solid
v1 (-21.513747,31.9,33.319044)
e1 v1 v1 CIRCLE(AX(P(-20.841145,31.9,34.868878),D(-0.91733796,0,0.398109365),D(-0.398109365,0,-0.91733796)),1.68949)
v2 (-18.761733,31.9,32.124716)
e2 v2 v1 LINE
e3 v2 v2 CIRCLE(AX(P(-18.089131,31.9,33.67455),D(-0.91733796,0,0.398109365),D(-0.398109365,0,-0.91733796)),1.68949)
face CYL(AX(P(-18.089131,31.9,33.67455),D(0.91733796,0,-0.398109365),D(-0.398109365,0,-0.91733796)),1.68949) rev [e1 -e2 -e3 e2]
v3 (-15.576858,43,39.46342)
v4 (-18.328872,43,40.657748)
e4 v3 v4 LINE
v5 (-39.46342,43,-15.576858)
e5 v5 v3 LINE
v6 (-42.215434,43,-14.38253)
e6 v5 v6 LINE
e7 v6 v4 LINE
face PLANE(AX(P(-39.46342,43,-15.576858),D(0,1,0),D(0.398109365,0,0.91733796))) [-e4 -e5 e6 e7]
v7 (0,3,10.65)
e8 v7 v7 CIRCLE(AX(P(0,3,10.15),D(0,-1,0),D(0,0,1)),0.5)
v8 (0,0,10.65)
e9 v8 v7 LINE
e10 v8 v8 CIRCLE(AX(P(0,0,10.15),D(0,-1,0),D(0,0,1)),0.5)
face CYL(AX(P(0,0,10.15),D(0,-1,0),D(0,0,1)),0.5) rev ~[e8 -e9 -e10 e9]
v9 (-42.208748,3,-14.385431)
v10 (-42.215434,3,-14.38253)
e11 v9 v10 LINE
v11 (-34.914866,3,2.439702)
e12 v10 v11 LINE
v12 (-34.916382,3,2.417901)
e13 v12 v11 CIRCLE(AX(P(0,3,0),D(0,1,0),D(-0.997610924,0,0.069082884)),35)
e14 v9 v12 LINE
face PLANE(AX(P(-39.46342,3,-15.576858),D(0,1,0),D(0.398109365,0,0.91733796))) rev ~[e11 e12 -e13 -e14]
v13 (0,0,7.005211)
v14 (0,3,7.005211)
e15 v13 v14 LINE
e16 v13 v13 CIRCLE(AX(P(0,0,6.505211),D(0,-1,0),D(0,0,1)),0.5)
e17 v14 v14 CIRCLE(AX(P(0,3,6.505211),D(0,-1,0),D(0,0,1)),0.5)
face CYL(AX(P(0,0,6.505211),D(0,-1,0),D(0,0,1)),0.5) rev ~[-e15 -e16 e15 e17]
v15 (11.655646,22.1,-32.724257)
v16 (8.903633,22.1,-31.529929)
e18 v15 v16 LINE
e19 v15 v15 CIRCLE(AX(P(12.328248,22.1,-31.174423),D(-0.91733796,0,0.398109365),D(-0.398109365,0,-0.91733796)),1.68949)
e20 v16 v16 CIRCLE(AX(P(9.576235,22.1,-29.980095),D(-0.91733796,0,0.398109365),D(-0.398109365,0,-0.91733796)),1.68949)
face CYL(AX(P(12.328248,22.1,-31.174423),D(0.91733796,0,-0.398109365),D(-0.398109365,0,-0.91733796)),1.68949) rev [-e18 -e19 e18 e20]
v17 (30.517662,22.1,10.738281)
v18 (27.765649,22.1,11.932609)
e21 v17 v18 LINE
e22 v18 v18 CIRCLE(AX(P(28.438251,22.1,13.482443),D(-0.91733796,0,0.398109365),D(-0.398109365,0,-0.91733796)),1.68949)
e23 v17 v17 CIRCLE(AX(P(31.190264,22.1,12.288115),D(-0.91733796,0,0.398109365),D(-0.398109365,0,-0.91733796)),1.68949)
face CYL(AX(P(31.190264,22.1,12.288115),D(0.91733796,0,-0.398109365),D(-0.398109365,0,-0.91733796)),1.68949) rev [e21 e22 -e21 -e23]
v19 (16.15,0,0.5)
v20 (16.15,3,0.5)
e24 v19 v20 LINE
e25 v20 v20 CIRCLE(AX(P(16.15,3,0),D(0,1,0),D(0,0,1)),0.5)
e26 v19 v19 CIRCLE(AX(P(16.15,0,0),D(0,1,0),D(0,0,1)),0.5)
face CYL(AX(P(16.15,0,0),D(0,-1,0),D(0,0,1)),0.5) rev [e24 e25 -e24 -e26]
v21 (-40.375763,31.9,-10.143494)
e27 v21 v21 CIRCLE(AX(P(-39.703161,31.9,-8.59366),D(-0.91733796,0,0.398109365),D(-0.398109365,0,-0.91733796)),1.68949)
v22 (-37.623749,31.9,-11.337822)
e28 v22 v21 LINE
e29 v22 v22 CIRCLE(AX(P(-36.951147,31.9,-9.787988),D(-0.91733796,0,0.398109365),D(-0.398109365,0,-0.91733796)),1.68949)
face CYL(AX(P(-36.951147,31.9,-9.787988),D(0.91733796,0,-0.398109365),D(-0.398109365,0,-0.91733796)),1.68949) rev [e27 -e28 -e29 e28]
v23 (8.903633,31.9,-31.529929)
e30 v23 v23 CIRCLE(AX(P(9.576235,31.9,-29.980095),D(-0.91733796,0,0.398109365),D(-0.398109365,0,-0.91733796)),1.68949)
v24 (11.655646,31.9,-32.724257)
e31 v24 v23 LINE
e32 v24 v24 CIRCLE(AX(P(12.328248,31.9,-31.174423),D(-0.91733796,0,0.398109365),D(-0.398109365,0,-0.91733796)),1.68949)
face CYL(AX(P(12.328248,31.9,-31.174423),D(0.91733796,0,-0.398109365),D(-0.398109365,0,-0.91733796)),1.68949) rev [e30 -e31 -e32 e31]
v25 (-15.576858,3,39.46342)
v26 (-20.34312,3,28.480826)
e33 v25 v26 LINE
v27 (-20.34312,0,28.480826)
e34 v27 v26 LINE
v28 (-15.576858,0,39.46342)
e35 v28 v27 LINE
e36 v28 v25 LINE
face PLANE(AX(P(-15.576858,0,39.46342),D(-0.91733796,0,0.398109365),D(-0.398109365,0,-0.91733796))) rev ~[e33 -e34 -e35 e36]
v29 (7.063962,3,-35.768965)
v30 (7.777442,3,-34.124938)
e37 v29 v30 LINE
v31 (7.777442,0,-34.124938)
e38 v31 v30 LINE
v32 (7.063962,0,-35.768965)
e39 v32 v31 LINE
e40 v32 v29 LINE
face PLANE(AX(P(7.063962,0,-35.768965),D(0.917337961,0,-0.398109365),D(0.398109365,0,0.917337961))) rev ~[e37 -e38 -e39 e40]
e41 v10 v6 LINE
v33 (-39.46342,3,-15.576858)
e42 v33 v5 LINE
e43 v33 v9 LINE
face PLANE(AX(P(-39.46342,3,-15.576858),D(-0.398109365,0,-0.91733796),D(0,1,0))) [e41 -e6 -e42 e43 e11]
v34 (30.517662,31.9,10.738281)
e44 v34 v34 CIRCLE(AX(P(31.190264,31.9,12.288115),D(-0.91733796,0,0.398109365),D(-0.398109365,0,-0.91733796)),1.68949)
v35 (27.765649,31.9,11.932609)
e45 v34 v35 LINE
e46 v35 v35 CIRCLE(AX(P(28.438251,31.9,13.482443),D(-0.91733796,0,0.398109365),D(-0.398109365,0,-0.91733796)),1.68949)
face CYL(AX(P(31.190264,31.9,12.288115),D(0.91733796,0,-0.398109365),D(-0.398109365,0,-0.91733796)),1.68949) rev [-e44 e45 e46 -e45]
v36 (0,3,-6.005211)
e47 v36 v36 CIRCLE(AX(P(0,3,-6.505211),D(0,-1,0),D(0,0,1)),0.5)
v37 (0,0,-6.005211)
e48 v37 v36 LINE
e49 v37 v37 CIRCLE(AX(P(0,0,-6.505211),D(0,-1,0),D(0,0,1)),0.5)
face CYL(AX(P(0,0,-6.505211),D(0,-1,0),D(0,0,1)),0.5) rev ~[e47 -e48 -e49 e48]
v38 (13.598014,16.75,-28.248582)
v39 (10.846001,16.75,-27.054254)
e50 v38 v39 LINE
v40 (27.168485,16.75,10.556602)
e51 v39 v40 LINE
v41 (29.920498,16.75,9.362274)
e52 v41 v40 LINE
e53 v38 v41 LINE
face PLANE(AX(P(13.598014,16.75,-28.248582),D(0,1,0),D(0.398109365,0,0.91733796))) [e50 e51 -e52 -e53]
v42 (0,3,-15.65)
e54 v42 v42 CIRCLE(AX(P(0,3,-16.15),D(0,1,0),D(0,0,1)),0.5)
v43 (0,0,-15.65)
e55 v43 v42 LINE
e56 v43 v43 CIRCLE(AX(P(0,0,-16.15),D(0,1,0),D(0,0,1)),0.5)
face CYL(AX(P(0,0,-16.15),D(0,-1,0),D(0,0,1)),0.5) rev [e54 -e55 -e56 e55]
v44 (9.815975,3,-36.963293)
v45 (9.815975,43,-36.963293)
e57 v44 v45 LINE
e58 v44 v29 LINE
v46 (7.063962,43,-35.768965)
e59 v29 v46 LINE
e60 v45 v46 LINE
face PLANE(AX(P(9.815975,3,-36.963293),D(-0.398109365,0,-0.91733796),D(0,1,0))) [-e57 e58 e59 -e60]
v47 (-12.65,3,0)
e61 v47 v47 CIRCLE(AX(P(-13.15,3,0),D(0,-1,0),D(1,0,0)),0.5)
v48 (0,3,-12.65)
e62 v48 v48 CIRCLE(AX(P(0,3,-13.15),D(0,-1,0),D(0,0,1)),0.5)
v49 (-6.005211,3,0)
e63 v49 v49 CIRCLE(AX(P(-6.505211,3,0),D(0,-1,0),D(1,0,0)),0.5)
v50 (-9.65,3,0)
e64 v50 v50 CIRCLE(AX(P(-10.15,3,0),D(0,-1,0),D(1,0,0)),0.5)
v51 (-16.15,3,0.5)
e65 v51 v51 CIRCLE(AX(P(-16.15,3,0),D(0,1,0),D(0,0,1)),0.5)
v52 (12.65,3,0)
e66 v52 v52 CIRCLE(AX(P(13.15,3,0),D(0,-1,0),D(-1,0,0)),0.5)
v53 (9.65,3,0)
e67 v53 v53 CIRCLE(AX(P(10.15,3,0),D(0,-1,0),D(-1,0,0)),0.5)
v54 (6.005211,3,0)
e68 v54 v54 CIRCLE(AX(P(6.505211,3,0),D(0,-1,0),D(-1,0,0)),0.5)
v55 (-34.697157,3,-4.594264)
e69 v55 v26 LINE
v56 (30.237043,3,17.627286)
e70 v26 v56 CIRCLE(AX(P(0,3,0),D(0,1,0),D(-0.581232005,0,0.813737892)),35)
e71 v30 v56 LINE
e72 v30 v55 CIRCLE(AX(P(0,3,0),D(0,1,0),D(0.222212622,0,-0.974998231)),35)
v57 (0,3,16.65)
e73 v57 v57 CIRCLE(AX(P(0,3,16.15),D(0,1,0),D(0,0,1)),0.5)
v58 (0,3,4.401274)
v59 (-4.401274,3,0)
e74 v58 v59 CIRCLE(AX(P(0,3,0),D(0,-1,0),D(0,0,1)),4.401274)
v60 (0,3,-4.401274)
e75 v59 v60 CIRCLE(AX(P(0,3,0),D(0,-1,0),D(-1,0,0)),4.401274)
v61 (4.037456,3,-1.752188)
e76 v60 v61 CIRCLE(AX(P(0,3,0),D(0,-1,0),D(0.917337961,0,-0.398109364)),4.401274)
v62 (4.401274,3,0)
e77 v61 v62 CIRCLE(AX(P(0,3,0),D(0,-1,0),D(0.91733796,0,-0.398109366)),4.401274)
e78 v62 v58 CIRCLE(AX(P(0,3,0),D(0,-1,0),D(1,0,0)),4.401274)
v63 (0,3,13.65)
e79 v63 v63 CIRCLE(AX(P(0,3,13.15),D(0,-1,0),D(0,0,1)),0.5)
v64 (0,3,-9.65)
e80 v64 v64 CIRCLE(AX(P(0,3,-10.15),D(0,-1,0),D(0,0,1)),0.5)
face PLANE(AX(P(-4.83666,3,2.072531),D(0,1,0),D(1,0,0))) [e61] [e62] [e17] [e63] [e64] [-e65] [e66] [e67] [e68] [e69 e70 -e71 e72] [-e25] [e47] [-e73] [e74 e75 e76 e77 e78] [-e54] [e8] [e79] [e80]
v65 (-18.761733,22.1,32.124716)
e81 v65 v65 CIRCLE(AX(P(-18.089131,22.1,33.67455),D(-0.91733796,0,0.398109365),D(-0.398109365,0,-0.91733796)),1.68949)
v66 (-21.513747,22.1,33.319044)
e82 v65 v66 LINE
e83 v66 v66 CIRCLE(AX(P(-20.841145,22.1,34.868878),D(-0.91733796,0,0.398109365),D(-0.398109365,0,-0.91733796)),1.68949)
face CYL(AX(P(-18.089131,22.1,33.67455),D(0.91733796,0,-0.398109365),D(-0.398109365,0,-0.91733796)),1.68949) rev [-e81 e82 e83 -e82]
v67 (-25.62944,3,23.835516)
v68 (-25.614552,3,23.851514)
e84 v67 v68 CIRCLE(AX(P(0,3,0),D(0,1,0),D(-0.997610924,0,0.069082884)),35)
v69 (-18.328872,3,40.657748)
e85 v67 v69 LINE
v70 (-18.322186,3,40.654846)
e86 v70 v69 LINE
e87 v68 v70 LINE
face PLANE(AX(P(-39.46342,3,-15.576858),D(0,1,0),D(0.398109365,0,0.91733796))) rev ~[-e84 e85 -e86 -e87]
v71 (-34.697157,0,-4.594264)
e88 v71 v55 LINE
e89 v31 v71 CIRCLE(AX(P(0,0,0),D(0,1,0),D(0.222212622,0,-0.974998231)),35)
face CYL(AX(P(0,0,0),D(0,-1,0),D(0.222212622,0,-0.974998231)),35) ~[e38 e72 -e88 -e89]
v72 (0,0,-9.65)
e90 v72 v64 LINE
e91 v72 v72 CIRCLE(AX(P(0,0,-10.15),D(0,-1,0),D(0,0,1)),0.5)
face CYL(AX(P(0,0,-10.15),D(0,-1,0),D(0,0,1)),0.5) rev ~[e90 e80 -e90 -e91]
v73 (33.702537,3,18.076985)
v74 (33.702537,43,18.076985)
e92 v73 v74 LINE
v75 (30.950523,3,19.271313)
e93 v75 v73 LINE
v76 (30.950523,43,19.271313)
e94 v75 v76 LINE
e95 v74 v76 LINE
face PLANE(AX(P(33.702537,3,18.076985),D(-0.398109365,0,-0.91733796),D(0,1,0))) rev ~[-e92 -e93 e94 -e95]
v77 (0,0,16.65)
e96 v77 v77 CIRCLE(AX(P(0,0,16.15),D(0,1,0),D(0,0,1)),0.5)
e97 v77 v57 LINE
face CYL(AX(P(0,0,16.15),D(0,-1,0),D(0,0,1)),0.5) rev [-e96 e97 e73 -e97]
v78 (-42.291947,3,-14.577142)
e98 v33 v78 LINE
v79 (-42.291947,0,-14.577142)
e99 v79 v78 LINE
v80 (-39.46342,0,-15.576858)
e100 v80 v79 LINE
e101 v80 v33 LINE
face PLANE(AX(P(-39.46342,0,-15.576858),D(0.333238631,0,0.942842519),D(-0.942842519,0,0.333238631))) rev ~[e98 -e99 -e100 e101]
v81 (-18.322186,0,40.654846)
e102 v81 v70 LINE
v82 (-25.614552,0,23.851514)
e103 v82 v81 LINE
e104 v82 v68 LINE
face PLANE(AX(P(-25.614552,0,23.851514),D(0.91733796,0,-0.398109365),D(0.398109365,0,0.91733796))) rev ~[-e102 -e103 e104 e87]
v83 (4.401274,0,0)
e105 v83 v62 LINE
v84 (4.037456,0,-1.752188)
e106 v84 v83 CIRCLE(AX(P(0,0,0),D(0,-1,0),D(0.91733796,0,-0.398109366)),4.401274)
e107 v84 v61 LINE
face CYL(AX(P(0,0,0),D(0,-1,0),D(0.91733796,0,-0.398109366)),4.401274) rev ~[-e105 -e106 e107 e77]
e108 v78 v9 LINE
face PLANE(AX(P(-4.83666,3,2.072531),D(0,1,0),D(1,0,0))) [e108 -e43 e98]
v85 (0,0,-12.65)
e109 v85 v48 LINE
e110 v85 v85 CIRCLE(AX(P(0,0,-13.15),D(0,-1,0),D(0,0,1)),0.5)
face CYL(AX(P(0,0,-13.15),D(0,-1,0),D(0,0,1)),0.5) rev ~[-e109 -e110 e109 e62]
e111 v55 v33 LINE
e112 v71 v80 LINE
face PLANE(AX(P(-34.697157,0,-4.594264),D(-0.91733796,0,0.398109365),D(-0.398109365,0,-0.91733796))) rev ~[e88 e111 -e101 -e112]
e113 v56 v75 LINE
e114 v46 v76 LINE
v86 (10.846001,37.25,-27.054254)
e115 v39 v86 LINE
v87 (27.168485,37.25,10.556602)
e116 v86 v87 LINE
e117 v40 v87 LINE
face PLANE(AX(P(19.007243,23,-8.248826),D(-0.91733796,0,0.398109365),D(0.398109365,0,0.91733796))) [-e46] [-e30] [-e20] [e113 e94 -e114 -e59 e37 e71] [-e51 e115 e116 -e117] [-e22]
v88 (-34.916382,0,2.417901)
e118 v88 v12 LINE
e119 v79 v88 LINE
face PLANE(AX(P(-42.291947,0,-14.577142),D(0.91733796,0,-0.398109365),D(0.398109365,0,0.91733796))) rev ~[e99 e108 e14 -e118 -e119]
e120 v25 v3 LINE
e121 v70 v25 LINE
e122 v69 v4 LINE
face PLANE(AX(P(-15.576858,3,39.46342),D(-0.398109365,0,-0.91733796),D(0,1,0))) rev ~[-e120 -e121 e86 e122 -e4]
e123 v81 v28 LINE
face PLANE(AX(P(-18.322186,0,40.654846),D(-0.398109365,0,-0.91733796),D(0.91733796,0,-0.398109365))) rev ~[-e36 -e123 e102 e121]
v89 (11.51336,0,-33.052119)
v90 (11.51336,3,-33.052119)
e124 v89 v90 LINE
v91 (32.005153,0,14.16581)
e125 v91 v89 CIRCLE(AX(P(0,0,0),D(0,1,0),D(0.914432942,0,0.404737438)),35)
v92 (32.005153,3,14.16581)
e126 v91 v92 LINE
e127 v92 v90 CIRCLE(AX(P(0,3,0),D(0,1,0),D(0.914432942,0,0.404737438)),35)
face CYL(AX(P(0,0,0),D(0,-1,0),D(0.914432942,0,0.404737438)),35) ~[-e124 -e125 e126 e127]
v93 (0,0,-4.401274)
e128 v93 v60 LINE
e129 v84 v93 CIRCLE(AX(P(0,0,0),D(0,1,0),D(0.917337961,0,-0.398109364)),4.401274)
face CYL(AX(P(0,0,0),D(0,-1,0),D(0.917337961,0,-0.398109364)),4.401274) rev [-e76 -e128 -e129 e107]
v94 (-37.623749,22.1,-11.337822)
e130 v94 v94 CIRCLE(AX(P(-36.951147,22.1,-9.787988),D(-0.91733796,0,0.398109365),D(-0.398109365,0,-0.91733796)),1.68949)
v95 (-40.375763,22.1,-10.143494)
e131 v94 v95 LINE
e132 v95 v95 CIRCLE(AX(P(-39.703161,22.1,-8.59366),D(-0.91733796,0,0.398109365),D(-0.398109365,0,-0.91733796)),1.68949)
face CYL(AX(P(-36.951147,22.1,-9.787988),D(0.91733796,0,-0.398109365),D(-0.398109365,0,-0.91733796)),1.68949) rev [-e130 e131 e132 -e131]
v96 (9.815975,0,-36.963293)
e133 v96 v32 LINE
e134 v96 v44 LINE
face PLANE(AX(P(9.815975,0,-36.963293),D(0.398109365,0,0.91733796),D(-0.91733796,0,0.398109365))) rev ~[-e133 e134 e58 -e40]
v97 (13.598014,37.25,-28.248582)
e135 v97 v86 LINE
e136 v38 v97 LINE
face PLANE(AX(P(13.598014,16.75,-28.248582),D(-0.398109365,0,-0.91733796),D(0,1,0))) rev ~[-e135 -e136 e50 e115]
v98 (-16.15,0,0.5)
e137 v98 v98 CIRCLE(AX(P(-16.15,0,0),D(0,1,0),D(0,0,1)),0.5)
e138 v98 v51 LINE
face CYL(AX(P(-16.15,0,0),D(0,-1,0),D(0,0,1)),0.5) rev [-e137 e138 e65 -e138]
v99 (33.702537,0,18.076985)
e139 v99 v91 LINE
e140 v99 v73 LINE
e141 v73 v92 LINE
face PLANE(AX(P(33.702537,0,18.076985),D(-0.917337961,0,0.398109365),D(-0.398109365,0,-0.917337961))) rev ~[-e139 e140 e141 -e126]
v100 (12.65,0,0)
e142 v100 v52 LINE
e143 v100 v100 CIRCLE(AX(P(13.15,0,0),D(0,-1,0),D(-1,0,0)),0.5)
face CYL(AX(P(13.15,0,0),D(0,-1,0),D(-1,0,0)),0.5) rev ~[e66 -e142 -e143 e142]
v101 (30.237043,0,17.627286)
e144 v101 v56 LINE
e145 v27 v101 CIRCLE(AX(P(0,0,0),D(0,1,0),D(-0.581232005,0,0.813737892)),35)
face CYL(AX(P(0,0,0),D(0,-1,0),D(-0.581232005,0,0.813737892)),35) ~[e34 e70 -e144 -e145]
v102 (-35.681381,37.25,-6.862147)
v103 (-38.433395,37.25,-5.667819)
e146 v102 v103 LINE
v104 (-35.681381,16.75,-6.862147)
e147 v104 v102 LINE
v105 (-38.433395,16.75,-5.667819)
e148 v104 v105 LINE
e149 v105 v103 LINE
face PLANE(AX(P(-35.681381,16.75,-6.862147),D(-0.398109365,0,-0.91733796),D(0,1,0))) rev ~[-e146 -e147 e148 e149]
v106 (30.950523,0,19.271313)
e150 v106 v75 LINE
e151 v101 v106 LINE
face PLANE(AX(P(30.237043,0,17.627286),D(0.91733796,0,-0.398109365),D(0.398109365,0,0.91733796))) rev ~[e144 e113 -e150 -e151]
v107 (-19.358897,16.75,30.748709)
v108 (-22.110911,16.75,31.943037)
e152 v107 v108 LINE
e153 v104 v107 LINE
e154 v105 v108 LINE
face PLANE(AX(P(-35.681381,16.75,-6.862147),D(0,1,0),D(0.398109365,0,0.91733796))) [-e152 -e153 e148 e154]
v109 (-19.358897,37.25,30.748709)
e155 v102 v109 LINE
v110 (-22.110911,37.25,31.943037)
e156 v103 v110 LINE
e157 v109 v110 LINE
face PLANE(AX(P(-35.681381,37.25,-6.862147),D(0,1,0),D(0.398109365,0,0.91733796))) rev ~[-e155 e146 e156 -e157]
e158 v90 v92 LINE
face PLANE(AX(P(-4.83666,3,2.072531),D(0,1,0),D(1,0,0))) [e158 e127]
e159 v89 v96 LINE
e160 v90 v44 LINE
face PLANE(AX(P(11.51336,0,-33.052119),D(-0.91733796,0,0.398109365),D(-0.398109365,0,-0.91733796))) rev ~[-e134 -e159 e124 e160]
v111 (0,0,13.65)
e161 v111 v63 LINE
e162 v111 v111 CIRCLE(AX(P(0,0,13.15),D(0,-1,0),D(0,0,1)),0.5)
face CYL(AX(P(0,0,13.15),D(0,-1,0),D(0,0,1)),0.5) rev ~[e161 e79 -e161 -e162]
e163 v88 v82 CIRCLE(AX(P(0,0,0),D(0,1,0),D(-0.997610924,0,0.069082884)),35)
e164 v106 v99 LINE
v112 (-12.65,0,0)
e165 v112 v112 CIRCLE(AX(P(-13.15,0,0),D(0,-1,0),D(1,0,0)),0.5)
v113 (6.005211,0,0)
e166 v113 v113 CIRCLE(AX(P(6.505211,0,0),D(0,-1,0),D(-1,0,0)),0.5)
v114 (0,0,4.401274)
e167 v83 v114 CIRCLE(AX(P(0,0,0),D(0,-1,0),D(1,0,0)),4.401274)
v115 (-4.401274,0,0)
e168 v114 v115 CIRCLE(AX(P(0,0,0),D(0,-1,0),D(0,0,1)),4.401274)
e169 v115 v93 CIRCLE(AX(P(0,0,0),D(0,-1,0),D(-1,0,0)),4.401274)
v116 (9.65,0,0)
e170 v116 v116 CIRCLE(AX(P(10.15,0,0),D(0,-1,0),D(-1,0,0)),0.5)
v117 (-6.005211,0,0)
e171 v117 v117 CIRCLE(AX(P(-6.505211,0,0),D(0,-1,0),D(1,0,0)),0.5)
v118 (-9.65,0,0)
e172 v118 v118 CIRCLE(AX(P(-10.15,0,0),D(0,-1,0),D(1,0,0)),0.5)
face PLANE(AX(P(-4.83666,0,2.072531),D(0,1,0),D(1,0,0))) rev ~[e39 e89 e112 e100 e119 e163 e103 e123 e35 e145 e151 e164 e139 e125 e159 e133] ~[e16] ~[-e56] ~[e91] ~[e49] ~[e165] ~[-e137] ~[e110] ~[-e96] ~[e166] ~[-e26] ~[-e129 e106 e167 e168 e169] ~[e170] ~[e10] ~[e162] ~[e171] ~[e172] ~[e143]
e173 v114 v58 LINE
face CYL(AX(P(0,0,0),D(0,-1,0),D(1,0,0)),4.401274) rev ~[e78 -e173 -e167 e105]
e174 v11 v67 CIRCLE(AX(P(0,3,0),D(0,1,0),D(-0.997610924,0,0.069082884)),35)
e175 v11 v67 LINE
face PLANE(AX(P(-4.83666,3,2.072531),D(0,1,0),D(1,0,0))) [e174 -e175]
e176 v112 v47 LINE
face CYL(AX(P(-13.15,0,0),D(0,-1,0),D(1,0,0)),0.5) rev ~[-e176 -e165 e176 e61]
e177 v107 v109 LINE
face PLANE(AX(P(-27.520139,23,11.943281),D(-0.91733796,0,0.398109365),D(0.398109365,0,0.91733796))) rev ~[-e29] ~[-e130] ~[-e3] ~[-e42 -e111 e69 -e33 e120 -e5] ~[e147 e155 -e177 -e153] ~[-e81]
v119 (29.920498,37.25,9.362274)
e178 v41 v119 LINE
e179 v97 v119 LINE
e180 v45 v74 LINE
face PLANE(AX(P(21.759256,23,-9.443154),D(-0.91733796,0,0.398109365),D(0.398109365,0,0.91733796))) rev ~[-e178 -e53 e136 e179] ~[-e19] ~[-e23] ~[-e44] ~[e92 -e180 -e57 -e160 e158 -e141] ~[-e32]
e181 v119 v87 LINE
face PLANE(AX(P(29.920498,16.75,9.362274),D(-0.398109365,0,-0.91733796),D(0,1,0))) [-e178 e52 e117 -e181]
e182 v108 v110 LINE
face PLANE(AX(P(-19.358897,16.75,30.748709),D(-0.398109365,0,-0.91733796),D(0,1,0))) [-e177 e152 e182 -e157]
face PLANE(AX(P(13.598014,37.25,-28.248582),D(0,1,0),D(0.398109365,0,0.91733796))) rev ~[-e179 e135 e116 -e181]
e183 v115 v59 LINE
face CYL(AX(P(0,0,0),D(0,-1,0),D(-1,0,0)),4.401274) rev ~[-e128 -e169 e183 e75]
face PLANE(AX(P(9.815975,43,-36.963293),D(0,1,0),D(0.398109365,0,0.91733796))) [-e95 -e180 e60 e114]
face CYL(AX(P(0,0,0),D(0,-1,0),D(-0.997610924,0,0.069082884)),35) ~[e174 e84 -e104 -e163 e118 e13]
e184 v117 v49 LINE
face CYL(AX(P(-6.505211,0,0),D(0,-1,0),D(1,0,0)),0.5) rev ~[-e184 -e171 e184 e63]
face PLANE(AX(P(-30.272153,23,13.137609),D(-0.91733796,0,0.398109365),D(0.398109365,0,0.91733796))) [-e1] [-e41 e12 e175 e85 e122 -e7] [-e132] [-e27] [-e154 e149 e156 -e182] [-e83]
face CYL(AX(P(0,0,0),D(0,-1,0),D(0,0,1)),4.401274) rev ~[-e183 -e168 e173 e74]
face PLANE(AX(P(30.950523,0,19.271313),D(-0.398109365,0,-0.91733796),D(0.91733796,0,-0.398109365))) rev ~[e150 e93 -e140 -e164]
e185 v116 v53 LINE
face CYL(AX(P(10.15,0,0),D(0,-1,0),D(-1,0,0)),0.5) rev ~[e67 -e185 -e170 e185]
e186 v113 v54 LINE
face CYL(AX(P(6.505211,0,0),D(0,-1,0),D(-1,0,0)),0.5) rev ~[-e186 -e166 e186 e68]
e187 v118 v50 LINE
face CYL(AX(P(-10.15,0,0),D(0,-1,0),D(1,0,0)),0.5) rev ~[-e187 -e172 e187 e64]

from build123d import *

# Parameters (mm, degrees)
SKETCH1_R           = 0.5
BOSS_EXTRUDE1_DEPTH = 3
BOSS_EXTRUDE2_START = 30
SKETCH2_W           = 60
SKETCH2_H           = 40
SKETCH2_R           = 1.689490446
SKETCH2_W_2         = 41
SKETCH2_H_2         = 20.5
BOSS_EXTRUDE2_DEPTH = 3
BOSS_EXTRUDE3_START = -23.72
SKETCH2_2_W         = 60
SKETCH2_2_H         = 40
SKETCH2_2_R         = 1.689490446
SKETCH2_2_W_2       = 41
SKETCH2_2_H_2       = 20.5
BOSS_EXTRUDE3_DEPTH = 3
CUT_EXTRUDE1_DEPTH  = 10


with BuildPart() as part:
    # Sketch1 → Boss-Extrude1 (new body)
    with BuildSketch(Plane(origin=(0, 0, 0), x_dir=(1, 0, 0), z_dir=(0, 1, 0))):
        with BuildLine():
            ThreePointArc((7.77744177, 34.124938088), (-19.979563219, 28.73703279), (-34.697157454, 4.594264319))
            Line((-34.697157454, 4.594264319), (-39.463419759, 15.576857865))
            Line((-39.463419759, 15.576857865), (-42.291947314, 14.577141972))
            Line((-42.291947314, 14.577141972), (-34.916382331, -2.417900937))
            ThreePointArc((-34.916382331, -2.417900937), (-32.106828614, -13.933827771), (-25.614551861, -23.85151427))
            Line((-25.614551861, -23.85151427), (-18.322186149, -40.654846416))
            Line((-18.322186149, -40.654846416), (-15.576857865, -39.463419759))
            Line((-15.576857865, -39.463419759), (-20.34312017, -28.480826213))
            ThreePointArc((-20.34312017, -28.480826213), (7.343177958, -34.221013098), (30.237043308, -17.627286007))
            Line((30.237043308, -17.627286007), (30.950523486, -19.271312771))
            Line((30.950523486, -19.271312771), (33.702537367, -18.076984677))
            Line((33.702537367, -18.076984677), (32.005152982, -14.165810341))
            ThreePointArc((32.005152982, -14.165810341), (32.106828614, 13.933827771), (11.51335986, 33.052118612))
            Line((11.51335986, 33.052118612), (9.815975474, 36.963292947))
            Line((9.815975474, 36.963292947), (7.063961593, 35.768964852))
            Line((7.063961593, 35.768964852), (7.77744177, 34.124938088))
        make_face()
        with Locations(Location((0, -16.15, 0), (0, 0, 270))):
            Circle(SKETCH1_R, mode=Mode.SUBTRACT)
        with BuildLine():
            ThreePointArc((0, -12.65), (0.5, -13.15), (0, -13.65))
            ThreePointArc((0, -13.65), (-0.5, -13.15), (0, -12.65))
        make_face(mode=Mode.SUBTRACT)
        with BuildLine():
            ThreePointArc((0, -9.65), (0.5, -10.15), (0, -10.65))
            ThreePointArc((0, -10.65), (-0.5, -10.15), (0, -9.65))
        make_face(mode=Mode.SUBTRACT)
        with BuildLine():
            ThreePointArc((0, -6.005210608), (0.5, -6.505210608), (0, -7.005210608))
            ThreePointArc((0, -7.005210608), (-0.5, -6.505210608), (0, -6.005210608))
        make_face(mode=Mode.SUBTRACT)
        with Locations(Location((-16.15, 0, 0), (0, 0, 270))):
            Circle(SKETCH1_R, mode=Mode.SUBTRACT)
        with BuildLine():
            ThreePointArc((-13.65, 0), (-13.15, 0.5), (-12.65, 0))
            ThreePointArc((-12.65, 0), (-13.15, -0.5), (-13.65, 0))
        make_face(mode=Mode.SUBTRACT)
        with BuildLine():
            ThreePointArc((-10.65, 0), (-10.15, 0.5), (-9.65, 0))
            ThreePointArc((-9.65, 0), (-10.15, -0.5), (-10.65, 0))
        make_face(mode=Mode.SUBTRACT)
        with BuildLine():
            ThreePointArc((-7.005210608, 0), (-6.505210608, 0.5), (-6.005210608, 0))
            ThreePointArc((-6.005210608, 0), (-6.505210608, -0.5), (-7.005210608, 0))
        make_face(mode=Mode.SUBTRACT)
        with BuildLine():
            ThreePointArc((4.401273885, 0), (3.11217061, -3.11217061), (0, -4.401273885))
            ThreePointArc((0, -4.401273885), (-3.11217061, -3.11217061), (-4.401273885, 0))
            ThreePointArc((-4.401273885, 0), (-3.11217061, 3.11217061), (0, 4.401273885))
            Line((0, 4.401273885), (0, 0))
            Line((0, 0), (4.037455609, 1.752188351))
            ThreePointArc((4.037455609, 1.752188351), (4.309359567, 0.894780386), (4.401273885, 0))
        make_face(mode=Mode.SUBTRACT)
        with BuildLine():
            ThreePointArc((7.005210608, 0), (6.505210608, -0.5), (6.005210608, 0))
            ThreePointArc((6.005210608, 0), (6.505210608, 0.5), (7.005210608, 0))
        make_face(mode=Mode.SUBTRACT)
        with BuildLine():
            ThreePointArc((0, 7.005210608), (0.5, 6.505210608), (0, 6.005210608))
            ThreePointArc((0, 6.005210608), (-0.5, 6.505210608), (0, 7.005210608))
        make_face(mode=Mode.SUBTRACT)
        with BuildLine():
            ThreePointArc((10.65, 0), (10.15, -0.5), (9.65, 0))
            ThreePointArc((9.65, 0), (10.15, 0.5), (10.65, 0))
        make_face(mode=Mode.SUBTRACT)
        with BuildLine():
            ThreePointArc((13.65, 0), (13.15, -0.5), (12.65, 0))
            ThreePointArc((12.65, 0), (13.15, 0.5), (13.65, 0))
        make_face(mode=Mode.SUBTRACT)
        with Locations(Location((16.15, 0, 0), (0, 0, 270))):
            Circle(SKETCH1_R, mode=Mode.SUBTRACT)
        with BuildLine():
            ThreePointArc((0, 10.65), (0.5, 10.15), (0, 9.65))
            ThreePointArc((0, 9.65), (-0.5, 10.15), (0, 10.65))
        make_face(mode=Mode.SUBTRACT)
        with BuildLine():
            ThreePointArc((0, 13.65), (0.5, 13.15), (0, 12.65))
            ThreePointArc((0, 12.65), (-0.5, 13.15), (0, 13.65))
        make_face(mode=Mode.SUBTRACT)
        with Locations(Location((0, 16.15, 0), (0, 0, 270))):
            Circle(SKETCH1_R, mode=Mode.SUBTRACT)
    extrude(amount=BOSS_EXTRUDE1_DEPTH)

    # Sketch2 → Boss-Extrude2 (add)
    with BuildSketch(Plane(origin=(0, 0, 0), x_dir=(0.3981093648941227, 0, 0.9173379603960573), z_dir=(-0.9173379603960573, 0, 0.3981093648941227)).offset(BOSS_EXTRUDE2_START)):
        with Locations((0, 23)):
            Rectangle(SKETCH2_W, SKETCH2_H)
        with Locations(Location((-23.689490446, 31.9, 0), (0, 0, 180))):
            Circle(SKETCH2_R, mode=Mode.SUBTRACT)
        with Locations(Location((-23.689490446, 22.1, 0), (0, 0, 180))):
            Circle(SKETCH2_R, mode=Mode.SUBTRACT)
        with Locations(Location((23.689490446, 22.1, 0), (0, 0, 180))):
            Circle(SKETCH2_R, mode=Mode.SUBTRACT)
        with Locations(Location((23.689490446, 31.9, 0), (0, 0, 180))):
            Circle(SKETCH2_R, mode=Mode.SUBTRACT)
        with Locations((0, 27)):
            Rectangle(SKETCH2_W_2, SKETCH2_H_2, mode=Mode.SUBTRACT)
    extrude(amount=BOSS_EXTRUDE2_DEPTH)

    # Sketch2<2> → Boss-Extrude3 (add)
    with BuildSketch(Plane(origin=(0, 0, 0), x_dir=(0.3981093648941227, 0, 0.9173379603960573), z_dir=(-0.9173379603960573, 0, 0.3981093648941227)).offset(BOSS_EXTRUDE3_START)):
        with Locations((0, 23)):
            Rectangle(SKETCH2_2_W, SKETCH2_2_H)
        with Locations(Location((-23.689490446, 31.9, 0), (0, 0, 180))):
            Circle(SKETCH2_2_R, mode=Mode.SUBTRACT)
        with Locations(Location((-23.689490446, 22.1, 0), (0, 0, 180))):
            Circle(SKETCH2_2_R, mode=Mode.SUBTRACT)
        with Locations(Location((23.689490446, 22.1, 0), (0, 0, 180))):
            Circle(SKETCH2_2_R, mode=Mode.SUBTRACT)
        with Locations(Location((23.689490446, 31.9, 0), (0, 0, 180))):
            Circle(SKETCH2_2_R, mode=Mode.SUBTRACT)
        with Locations((0, 27)):
            Rectangle(SKETCH2_2_W_2, SKETCH2_2_H_2, mode=Mode.SUBTRACT)
    extrude(amount=BOSS_EXTRUDE3_DEPTH)

    # Sketch1<3> → Cut-Extrude1 (cut)
    with BuildSketch(Plane(origin=(0, 0, 0), x_dir=(1, 0, 0), z_dir=(0, 1, 0))):
        with BuildLine():
            Line((0, 4.401273885), (0, 0))
            Line((0, 0), (4.037455609, 1.752188351))
            ThreePointArc((4.037455609, 1.752188351), (2.414472094, 3.679882651), (0, 4.401273885))
        make_face()
    extrude(amount=CUT_EXTRUDE1_DEPTH, mode=Mode.SUBTRACT)


solid = part.part
